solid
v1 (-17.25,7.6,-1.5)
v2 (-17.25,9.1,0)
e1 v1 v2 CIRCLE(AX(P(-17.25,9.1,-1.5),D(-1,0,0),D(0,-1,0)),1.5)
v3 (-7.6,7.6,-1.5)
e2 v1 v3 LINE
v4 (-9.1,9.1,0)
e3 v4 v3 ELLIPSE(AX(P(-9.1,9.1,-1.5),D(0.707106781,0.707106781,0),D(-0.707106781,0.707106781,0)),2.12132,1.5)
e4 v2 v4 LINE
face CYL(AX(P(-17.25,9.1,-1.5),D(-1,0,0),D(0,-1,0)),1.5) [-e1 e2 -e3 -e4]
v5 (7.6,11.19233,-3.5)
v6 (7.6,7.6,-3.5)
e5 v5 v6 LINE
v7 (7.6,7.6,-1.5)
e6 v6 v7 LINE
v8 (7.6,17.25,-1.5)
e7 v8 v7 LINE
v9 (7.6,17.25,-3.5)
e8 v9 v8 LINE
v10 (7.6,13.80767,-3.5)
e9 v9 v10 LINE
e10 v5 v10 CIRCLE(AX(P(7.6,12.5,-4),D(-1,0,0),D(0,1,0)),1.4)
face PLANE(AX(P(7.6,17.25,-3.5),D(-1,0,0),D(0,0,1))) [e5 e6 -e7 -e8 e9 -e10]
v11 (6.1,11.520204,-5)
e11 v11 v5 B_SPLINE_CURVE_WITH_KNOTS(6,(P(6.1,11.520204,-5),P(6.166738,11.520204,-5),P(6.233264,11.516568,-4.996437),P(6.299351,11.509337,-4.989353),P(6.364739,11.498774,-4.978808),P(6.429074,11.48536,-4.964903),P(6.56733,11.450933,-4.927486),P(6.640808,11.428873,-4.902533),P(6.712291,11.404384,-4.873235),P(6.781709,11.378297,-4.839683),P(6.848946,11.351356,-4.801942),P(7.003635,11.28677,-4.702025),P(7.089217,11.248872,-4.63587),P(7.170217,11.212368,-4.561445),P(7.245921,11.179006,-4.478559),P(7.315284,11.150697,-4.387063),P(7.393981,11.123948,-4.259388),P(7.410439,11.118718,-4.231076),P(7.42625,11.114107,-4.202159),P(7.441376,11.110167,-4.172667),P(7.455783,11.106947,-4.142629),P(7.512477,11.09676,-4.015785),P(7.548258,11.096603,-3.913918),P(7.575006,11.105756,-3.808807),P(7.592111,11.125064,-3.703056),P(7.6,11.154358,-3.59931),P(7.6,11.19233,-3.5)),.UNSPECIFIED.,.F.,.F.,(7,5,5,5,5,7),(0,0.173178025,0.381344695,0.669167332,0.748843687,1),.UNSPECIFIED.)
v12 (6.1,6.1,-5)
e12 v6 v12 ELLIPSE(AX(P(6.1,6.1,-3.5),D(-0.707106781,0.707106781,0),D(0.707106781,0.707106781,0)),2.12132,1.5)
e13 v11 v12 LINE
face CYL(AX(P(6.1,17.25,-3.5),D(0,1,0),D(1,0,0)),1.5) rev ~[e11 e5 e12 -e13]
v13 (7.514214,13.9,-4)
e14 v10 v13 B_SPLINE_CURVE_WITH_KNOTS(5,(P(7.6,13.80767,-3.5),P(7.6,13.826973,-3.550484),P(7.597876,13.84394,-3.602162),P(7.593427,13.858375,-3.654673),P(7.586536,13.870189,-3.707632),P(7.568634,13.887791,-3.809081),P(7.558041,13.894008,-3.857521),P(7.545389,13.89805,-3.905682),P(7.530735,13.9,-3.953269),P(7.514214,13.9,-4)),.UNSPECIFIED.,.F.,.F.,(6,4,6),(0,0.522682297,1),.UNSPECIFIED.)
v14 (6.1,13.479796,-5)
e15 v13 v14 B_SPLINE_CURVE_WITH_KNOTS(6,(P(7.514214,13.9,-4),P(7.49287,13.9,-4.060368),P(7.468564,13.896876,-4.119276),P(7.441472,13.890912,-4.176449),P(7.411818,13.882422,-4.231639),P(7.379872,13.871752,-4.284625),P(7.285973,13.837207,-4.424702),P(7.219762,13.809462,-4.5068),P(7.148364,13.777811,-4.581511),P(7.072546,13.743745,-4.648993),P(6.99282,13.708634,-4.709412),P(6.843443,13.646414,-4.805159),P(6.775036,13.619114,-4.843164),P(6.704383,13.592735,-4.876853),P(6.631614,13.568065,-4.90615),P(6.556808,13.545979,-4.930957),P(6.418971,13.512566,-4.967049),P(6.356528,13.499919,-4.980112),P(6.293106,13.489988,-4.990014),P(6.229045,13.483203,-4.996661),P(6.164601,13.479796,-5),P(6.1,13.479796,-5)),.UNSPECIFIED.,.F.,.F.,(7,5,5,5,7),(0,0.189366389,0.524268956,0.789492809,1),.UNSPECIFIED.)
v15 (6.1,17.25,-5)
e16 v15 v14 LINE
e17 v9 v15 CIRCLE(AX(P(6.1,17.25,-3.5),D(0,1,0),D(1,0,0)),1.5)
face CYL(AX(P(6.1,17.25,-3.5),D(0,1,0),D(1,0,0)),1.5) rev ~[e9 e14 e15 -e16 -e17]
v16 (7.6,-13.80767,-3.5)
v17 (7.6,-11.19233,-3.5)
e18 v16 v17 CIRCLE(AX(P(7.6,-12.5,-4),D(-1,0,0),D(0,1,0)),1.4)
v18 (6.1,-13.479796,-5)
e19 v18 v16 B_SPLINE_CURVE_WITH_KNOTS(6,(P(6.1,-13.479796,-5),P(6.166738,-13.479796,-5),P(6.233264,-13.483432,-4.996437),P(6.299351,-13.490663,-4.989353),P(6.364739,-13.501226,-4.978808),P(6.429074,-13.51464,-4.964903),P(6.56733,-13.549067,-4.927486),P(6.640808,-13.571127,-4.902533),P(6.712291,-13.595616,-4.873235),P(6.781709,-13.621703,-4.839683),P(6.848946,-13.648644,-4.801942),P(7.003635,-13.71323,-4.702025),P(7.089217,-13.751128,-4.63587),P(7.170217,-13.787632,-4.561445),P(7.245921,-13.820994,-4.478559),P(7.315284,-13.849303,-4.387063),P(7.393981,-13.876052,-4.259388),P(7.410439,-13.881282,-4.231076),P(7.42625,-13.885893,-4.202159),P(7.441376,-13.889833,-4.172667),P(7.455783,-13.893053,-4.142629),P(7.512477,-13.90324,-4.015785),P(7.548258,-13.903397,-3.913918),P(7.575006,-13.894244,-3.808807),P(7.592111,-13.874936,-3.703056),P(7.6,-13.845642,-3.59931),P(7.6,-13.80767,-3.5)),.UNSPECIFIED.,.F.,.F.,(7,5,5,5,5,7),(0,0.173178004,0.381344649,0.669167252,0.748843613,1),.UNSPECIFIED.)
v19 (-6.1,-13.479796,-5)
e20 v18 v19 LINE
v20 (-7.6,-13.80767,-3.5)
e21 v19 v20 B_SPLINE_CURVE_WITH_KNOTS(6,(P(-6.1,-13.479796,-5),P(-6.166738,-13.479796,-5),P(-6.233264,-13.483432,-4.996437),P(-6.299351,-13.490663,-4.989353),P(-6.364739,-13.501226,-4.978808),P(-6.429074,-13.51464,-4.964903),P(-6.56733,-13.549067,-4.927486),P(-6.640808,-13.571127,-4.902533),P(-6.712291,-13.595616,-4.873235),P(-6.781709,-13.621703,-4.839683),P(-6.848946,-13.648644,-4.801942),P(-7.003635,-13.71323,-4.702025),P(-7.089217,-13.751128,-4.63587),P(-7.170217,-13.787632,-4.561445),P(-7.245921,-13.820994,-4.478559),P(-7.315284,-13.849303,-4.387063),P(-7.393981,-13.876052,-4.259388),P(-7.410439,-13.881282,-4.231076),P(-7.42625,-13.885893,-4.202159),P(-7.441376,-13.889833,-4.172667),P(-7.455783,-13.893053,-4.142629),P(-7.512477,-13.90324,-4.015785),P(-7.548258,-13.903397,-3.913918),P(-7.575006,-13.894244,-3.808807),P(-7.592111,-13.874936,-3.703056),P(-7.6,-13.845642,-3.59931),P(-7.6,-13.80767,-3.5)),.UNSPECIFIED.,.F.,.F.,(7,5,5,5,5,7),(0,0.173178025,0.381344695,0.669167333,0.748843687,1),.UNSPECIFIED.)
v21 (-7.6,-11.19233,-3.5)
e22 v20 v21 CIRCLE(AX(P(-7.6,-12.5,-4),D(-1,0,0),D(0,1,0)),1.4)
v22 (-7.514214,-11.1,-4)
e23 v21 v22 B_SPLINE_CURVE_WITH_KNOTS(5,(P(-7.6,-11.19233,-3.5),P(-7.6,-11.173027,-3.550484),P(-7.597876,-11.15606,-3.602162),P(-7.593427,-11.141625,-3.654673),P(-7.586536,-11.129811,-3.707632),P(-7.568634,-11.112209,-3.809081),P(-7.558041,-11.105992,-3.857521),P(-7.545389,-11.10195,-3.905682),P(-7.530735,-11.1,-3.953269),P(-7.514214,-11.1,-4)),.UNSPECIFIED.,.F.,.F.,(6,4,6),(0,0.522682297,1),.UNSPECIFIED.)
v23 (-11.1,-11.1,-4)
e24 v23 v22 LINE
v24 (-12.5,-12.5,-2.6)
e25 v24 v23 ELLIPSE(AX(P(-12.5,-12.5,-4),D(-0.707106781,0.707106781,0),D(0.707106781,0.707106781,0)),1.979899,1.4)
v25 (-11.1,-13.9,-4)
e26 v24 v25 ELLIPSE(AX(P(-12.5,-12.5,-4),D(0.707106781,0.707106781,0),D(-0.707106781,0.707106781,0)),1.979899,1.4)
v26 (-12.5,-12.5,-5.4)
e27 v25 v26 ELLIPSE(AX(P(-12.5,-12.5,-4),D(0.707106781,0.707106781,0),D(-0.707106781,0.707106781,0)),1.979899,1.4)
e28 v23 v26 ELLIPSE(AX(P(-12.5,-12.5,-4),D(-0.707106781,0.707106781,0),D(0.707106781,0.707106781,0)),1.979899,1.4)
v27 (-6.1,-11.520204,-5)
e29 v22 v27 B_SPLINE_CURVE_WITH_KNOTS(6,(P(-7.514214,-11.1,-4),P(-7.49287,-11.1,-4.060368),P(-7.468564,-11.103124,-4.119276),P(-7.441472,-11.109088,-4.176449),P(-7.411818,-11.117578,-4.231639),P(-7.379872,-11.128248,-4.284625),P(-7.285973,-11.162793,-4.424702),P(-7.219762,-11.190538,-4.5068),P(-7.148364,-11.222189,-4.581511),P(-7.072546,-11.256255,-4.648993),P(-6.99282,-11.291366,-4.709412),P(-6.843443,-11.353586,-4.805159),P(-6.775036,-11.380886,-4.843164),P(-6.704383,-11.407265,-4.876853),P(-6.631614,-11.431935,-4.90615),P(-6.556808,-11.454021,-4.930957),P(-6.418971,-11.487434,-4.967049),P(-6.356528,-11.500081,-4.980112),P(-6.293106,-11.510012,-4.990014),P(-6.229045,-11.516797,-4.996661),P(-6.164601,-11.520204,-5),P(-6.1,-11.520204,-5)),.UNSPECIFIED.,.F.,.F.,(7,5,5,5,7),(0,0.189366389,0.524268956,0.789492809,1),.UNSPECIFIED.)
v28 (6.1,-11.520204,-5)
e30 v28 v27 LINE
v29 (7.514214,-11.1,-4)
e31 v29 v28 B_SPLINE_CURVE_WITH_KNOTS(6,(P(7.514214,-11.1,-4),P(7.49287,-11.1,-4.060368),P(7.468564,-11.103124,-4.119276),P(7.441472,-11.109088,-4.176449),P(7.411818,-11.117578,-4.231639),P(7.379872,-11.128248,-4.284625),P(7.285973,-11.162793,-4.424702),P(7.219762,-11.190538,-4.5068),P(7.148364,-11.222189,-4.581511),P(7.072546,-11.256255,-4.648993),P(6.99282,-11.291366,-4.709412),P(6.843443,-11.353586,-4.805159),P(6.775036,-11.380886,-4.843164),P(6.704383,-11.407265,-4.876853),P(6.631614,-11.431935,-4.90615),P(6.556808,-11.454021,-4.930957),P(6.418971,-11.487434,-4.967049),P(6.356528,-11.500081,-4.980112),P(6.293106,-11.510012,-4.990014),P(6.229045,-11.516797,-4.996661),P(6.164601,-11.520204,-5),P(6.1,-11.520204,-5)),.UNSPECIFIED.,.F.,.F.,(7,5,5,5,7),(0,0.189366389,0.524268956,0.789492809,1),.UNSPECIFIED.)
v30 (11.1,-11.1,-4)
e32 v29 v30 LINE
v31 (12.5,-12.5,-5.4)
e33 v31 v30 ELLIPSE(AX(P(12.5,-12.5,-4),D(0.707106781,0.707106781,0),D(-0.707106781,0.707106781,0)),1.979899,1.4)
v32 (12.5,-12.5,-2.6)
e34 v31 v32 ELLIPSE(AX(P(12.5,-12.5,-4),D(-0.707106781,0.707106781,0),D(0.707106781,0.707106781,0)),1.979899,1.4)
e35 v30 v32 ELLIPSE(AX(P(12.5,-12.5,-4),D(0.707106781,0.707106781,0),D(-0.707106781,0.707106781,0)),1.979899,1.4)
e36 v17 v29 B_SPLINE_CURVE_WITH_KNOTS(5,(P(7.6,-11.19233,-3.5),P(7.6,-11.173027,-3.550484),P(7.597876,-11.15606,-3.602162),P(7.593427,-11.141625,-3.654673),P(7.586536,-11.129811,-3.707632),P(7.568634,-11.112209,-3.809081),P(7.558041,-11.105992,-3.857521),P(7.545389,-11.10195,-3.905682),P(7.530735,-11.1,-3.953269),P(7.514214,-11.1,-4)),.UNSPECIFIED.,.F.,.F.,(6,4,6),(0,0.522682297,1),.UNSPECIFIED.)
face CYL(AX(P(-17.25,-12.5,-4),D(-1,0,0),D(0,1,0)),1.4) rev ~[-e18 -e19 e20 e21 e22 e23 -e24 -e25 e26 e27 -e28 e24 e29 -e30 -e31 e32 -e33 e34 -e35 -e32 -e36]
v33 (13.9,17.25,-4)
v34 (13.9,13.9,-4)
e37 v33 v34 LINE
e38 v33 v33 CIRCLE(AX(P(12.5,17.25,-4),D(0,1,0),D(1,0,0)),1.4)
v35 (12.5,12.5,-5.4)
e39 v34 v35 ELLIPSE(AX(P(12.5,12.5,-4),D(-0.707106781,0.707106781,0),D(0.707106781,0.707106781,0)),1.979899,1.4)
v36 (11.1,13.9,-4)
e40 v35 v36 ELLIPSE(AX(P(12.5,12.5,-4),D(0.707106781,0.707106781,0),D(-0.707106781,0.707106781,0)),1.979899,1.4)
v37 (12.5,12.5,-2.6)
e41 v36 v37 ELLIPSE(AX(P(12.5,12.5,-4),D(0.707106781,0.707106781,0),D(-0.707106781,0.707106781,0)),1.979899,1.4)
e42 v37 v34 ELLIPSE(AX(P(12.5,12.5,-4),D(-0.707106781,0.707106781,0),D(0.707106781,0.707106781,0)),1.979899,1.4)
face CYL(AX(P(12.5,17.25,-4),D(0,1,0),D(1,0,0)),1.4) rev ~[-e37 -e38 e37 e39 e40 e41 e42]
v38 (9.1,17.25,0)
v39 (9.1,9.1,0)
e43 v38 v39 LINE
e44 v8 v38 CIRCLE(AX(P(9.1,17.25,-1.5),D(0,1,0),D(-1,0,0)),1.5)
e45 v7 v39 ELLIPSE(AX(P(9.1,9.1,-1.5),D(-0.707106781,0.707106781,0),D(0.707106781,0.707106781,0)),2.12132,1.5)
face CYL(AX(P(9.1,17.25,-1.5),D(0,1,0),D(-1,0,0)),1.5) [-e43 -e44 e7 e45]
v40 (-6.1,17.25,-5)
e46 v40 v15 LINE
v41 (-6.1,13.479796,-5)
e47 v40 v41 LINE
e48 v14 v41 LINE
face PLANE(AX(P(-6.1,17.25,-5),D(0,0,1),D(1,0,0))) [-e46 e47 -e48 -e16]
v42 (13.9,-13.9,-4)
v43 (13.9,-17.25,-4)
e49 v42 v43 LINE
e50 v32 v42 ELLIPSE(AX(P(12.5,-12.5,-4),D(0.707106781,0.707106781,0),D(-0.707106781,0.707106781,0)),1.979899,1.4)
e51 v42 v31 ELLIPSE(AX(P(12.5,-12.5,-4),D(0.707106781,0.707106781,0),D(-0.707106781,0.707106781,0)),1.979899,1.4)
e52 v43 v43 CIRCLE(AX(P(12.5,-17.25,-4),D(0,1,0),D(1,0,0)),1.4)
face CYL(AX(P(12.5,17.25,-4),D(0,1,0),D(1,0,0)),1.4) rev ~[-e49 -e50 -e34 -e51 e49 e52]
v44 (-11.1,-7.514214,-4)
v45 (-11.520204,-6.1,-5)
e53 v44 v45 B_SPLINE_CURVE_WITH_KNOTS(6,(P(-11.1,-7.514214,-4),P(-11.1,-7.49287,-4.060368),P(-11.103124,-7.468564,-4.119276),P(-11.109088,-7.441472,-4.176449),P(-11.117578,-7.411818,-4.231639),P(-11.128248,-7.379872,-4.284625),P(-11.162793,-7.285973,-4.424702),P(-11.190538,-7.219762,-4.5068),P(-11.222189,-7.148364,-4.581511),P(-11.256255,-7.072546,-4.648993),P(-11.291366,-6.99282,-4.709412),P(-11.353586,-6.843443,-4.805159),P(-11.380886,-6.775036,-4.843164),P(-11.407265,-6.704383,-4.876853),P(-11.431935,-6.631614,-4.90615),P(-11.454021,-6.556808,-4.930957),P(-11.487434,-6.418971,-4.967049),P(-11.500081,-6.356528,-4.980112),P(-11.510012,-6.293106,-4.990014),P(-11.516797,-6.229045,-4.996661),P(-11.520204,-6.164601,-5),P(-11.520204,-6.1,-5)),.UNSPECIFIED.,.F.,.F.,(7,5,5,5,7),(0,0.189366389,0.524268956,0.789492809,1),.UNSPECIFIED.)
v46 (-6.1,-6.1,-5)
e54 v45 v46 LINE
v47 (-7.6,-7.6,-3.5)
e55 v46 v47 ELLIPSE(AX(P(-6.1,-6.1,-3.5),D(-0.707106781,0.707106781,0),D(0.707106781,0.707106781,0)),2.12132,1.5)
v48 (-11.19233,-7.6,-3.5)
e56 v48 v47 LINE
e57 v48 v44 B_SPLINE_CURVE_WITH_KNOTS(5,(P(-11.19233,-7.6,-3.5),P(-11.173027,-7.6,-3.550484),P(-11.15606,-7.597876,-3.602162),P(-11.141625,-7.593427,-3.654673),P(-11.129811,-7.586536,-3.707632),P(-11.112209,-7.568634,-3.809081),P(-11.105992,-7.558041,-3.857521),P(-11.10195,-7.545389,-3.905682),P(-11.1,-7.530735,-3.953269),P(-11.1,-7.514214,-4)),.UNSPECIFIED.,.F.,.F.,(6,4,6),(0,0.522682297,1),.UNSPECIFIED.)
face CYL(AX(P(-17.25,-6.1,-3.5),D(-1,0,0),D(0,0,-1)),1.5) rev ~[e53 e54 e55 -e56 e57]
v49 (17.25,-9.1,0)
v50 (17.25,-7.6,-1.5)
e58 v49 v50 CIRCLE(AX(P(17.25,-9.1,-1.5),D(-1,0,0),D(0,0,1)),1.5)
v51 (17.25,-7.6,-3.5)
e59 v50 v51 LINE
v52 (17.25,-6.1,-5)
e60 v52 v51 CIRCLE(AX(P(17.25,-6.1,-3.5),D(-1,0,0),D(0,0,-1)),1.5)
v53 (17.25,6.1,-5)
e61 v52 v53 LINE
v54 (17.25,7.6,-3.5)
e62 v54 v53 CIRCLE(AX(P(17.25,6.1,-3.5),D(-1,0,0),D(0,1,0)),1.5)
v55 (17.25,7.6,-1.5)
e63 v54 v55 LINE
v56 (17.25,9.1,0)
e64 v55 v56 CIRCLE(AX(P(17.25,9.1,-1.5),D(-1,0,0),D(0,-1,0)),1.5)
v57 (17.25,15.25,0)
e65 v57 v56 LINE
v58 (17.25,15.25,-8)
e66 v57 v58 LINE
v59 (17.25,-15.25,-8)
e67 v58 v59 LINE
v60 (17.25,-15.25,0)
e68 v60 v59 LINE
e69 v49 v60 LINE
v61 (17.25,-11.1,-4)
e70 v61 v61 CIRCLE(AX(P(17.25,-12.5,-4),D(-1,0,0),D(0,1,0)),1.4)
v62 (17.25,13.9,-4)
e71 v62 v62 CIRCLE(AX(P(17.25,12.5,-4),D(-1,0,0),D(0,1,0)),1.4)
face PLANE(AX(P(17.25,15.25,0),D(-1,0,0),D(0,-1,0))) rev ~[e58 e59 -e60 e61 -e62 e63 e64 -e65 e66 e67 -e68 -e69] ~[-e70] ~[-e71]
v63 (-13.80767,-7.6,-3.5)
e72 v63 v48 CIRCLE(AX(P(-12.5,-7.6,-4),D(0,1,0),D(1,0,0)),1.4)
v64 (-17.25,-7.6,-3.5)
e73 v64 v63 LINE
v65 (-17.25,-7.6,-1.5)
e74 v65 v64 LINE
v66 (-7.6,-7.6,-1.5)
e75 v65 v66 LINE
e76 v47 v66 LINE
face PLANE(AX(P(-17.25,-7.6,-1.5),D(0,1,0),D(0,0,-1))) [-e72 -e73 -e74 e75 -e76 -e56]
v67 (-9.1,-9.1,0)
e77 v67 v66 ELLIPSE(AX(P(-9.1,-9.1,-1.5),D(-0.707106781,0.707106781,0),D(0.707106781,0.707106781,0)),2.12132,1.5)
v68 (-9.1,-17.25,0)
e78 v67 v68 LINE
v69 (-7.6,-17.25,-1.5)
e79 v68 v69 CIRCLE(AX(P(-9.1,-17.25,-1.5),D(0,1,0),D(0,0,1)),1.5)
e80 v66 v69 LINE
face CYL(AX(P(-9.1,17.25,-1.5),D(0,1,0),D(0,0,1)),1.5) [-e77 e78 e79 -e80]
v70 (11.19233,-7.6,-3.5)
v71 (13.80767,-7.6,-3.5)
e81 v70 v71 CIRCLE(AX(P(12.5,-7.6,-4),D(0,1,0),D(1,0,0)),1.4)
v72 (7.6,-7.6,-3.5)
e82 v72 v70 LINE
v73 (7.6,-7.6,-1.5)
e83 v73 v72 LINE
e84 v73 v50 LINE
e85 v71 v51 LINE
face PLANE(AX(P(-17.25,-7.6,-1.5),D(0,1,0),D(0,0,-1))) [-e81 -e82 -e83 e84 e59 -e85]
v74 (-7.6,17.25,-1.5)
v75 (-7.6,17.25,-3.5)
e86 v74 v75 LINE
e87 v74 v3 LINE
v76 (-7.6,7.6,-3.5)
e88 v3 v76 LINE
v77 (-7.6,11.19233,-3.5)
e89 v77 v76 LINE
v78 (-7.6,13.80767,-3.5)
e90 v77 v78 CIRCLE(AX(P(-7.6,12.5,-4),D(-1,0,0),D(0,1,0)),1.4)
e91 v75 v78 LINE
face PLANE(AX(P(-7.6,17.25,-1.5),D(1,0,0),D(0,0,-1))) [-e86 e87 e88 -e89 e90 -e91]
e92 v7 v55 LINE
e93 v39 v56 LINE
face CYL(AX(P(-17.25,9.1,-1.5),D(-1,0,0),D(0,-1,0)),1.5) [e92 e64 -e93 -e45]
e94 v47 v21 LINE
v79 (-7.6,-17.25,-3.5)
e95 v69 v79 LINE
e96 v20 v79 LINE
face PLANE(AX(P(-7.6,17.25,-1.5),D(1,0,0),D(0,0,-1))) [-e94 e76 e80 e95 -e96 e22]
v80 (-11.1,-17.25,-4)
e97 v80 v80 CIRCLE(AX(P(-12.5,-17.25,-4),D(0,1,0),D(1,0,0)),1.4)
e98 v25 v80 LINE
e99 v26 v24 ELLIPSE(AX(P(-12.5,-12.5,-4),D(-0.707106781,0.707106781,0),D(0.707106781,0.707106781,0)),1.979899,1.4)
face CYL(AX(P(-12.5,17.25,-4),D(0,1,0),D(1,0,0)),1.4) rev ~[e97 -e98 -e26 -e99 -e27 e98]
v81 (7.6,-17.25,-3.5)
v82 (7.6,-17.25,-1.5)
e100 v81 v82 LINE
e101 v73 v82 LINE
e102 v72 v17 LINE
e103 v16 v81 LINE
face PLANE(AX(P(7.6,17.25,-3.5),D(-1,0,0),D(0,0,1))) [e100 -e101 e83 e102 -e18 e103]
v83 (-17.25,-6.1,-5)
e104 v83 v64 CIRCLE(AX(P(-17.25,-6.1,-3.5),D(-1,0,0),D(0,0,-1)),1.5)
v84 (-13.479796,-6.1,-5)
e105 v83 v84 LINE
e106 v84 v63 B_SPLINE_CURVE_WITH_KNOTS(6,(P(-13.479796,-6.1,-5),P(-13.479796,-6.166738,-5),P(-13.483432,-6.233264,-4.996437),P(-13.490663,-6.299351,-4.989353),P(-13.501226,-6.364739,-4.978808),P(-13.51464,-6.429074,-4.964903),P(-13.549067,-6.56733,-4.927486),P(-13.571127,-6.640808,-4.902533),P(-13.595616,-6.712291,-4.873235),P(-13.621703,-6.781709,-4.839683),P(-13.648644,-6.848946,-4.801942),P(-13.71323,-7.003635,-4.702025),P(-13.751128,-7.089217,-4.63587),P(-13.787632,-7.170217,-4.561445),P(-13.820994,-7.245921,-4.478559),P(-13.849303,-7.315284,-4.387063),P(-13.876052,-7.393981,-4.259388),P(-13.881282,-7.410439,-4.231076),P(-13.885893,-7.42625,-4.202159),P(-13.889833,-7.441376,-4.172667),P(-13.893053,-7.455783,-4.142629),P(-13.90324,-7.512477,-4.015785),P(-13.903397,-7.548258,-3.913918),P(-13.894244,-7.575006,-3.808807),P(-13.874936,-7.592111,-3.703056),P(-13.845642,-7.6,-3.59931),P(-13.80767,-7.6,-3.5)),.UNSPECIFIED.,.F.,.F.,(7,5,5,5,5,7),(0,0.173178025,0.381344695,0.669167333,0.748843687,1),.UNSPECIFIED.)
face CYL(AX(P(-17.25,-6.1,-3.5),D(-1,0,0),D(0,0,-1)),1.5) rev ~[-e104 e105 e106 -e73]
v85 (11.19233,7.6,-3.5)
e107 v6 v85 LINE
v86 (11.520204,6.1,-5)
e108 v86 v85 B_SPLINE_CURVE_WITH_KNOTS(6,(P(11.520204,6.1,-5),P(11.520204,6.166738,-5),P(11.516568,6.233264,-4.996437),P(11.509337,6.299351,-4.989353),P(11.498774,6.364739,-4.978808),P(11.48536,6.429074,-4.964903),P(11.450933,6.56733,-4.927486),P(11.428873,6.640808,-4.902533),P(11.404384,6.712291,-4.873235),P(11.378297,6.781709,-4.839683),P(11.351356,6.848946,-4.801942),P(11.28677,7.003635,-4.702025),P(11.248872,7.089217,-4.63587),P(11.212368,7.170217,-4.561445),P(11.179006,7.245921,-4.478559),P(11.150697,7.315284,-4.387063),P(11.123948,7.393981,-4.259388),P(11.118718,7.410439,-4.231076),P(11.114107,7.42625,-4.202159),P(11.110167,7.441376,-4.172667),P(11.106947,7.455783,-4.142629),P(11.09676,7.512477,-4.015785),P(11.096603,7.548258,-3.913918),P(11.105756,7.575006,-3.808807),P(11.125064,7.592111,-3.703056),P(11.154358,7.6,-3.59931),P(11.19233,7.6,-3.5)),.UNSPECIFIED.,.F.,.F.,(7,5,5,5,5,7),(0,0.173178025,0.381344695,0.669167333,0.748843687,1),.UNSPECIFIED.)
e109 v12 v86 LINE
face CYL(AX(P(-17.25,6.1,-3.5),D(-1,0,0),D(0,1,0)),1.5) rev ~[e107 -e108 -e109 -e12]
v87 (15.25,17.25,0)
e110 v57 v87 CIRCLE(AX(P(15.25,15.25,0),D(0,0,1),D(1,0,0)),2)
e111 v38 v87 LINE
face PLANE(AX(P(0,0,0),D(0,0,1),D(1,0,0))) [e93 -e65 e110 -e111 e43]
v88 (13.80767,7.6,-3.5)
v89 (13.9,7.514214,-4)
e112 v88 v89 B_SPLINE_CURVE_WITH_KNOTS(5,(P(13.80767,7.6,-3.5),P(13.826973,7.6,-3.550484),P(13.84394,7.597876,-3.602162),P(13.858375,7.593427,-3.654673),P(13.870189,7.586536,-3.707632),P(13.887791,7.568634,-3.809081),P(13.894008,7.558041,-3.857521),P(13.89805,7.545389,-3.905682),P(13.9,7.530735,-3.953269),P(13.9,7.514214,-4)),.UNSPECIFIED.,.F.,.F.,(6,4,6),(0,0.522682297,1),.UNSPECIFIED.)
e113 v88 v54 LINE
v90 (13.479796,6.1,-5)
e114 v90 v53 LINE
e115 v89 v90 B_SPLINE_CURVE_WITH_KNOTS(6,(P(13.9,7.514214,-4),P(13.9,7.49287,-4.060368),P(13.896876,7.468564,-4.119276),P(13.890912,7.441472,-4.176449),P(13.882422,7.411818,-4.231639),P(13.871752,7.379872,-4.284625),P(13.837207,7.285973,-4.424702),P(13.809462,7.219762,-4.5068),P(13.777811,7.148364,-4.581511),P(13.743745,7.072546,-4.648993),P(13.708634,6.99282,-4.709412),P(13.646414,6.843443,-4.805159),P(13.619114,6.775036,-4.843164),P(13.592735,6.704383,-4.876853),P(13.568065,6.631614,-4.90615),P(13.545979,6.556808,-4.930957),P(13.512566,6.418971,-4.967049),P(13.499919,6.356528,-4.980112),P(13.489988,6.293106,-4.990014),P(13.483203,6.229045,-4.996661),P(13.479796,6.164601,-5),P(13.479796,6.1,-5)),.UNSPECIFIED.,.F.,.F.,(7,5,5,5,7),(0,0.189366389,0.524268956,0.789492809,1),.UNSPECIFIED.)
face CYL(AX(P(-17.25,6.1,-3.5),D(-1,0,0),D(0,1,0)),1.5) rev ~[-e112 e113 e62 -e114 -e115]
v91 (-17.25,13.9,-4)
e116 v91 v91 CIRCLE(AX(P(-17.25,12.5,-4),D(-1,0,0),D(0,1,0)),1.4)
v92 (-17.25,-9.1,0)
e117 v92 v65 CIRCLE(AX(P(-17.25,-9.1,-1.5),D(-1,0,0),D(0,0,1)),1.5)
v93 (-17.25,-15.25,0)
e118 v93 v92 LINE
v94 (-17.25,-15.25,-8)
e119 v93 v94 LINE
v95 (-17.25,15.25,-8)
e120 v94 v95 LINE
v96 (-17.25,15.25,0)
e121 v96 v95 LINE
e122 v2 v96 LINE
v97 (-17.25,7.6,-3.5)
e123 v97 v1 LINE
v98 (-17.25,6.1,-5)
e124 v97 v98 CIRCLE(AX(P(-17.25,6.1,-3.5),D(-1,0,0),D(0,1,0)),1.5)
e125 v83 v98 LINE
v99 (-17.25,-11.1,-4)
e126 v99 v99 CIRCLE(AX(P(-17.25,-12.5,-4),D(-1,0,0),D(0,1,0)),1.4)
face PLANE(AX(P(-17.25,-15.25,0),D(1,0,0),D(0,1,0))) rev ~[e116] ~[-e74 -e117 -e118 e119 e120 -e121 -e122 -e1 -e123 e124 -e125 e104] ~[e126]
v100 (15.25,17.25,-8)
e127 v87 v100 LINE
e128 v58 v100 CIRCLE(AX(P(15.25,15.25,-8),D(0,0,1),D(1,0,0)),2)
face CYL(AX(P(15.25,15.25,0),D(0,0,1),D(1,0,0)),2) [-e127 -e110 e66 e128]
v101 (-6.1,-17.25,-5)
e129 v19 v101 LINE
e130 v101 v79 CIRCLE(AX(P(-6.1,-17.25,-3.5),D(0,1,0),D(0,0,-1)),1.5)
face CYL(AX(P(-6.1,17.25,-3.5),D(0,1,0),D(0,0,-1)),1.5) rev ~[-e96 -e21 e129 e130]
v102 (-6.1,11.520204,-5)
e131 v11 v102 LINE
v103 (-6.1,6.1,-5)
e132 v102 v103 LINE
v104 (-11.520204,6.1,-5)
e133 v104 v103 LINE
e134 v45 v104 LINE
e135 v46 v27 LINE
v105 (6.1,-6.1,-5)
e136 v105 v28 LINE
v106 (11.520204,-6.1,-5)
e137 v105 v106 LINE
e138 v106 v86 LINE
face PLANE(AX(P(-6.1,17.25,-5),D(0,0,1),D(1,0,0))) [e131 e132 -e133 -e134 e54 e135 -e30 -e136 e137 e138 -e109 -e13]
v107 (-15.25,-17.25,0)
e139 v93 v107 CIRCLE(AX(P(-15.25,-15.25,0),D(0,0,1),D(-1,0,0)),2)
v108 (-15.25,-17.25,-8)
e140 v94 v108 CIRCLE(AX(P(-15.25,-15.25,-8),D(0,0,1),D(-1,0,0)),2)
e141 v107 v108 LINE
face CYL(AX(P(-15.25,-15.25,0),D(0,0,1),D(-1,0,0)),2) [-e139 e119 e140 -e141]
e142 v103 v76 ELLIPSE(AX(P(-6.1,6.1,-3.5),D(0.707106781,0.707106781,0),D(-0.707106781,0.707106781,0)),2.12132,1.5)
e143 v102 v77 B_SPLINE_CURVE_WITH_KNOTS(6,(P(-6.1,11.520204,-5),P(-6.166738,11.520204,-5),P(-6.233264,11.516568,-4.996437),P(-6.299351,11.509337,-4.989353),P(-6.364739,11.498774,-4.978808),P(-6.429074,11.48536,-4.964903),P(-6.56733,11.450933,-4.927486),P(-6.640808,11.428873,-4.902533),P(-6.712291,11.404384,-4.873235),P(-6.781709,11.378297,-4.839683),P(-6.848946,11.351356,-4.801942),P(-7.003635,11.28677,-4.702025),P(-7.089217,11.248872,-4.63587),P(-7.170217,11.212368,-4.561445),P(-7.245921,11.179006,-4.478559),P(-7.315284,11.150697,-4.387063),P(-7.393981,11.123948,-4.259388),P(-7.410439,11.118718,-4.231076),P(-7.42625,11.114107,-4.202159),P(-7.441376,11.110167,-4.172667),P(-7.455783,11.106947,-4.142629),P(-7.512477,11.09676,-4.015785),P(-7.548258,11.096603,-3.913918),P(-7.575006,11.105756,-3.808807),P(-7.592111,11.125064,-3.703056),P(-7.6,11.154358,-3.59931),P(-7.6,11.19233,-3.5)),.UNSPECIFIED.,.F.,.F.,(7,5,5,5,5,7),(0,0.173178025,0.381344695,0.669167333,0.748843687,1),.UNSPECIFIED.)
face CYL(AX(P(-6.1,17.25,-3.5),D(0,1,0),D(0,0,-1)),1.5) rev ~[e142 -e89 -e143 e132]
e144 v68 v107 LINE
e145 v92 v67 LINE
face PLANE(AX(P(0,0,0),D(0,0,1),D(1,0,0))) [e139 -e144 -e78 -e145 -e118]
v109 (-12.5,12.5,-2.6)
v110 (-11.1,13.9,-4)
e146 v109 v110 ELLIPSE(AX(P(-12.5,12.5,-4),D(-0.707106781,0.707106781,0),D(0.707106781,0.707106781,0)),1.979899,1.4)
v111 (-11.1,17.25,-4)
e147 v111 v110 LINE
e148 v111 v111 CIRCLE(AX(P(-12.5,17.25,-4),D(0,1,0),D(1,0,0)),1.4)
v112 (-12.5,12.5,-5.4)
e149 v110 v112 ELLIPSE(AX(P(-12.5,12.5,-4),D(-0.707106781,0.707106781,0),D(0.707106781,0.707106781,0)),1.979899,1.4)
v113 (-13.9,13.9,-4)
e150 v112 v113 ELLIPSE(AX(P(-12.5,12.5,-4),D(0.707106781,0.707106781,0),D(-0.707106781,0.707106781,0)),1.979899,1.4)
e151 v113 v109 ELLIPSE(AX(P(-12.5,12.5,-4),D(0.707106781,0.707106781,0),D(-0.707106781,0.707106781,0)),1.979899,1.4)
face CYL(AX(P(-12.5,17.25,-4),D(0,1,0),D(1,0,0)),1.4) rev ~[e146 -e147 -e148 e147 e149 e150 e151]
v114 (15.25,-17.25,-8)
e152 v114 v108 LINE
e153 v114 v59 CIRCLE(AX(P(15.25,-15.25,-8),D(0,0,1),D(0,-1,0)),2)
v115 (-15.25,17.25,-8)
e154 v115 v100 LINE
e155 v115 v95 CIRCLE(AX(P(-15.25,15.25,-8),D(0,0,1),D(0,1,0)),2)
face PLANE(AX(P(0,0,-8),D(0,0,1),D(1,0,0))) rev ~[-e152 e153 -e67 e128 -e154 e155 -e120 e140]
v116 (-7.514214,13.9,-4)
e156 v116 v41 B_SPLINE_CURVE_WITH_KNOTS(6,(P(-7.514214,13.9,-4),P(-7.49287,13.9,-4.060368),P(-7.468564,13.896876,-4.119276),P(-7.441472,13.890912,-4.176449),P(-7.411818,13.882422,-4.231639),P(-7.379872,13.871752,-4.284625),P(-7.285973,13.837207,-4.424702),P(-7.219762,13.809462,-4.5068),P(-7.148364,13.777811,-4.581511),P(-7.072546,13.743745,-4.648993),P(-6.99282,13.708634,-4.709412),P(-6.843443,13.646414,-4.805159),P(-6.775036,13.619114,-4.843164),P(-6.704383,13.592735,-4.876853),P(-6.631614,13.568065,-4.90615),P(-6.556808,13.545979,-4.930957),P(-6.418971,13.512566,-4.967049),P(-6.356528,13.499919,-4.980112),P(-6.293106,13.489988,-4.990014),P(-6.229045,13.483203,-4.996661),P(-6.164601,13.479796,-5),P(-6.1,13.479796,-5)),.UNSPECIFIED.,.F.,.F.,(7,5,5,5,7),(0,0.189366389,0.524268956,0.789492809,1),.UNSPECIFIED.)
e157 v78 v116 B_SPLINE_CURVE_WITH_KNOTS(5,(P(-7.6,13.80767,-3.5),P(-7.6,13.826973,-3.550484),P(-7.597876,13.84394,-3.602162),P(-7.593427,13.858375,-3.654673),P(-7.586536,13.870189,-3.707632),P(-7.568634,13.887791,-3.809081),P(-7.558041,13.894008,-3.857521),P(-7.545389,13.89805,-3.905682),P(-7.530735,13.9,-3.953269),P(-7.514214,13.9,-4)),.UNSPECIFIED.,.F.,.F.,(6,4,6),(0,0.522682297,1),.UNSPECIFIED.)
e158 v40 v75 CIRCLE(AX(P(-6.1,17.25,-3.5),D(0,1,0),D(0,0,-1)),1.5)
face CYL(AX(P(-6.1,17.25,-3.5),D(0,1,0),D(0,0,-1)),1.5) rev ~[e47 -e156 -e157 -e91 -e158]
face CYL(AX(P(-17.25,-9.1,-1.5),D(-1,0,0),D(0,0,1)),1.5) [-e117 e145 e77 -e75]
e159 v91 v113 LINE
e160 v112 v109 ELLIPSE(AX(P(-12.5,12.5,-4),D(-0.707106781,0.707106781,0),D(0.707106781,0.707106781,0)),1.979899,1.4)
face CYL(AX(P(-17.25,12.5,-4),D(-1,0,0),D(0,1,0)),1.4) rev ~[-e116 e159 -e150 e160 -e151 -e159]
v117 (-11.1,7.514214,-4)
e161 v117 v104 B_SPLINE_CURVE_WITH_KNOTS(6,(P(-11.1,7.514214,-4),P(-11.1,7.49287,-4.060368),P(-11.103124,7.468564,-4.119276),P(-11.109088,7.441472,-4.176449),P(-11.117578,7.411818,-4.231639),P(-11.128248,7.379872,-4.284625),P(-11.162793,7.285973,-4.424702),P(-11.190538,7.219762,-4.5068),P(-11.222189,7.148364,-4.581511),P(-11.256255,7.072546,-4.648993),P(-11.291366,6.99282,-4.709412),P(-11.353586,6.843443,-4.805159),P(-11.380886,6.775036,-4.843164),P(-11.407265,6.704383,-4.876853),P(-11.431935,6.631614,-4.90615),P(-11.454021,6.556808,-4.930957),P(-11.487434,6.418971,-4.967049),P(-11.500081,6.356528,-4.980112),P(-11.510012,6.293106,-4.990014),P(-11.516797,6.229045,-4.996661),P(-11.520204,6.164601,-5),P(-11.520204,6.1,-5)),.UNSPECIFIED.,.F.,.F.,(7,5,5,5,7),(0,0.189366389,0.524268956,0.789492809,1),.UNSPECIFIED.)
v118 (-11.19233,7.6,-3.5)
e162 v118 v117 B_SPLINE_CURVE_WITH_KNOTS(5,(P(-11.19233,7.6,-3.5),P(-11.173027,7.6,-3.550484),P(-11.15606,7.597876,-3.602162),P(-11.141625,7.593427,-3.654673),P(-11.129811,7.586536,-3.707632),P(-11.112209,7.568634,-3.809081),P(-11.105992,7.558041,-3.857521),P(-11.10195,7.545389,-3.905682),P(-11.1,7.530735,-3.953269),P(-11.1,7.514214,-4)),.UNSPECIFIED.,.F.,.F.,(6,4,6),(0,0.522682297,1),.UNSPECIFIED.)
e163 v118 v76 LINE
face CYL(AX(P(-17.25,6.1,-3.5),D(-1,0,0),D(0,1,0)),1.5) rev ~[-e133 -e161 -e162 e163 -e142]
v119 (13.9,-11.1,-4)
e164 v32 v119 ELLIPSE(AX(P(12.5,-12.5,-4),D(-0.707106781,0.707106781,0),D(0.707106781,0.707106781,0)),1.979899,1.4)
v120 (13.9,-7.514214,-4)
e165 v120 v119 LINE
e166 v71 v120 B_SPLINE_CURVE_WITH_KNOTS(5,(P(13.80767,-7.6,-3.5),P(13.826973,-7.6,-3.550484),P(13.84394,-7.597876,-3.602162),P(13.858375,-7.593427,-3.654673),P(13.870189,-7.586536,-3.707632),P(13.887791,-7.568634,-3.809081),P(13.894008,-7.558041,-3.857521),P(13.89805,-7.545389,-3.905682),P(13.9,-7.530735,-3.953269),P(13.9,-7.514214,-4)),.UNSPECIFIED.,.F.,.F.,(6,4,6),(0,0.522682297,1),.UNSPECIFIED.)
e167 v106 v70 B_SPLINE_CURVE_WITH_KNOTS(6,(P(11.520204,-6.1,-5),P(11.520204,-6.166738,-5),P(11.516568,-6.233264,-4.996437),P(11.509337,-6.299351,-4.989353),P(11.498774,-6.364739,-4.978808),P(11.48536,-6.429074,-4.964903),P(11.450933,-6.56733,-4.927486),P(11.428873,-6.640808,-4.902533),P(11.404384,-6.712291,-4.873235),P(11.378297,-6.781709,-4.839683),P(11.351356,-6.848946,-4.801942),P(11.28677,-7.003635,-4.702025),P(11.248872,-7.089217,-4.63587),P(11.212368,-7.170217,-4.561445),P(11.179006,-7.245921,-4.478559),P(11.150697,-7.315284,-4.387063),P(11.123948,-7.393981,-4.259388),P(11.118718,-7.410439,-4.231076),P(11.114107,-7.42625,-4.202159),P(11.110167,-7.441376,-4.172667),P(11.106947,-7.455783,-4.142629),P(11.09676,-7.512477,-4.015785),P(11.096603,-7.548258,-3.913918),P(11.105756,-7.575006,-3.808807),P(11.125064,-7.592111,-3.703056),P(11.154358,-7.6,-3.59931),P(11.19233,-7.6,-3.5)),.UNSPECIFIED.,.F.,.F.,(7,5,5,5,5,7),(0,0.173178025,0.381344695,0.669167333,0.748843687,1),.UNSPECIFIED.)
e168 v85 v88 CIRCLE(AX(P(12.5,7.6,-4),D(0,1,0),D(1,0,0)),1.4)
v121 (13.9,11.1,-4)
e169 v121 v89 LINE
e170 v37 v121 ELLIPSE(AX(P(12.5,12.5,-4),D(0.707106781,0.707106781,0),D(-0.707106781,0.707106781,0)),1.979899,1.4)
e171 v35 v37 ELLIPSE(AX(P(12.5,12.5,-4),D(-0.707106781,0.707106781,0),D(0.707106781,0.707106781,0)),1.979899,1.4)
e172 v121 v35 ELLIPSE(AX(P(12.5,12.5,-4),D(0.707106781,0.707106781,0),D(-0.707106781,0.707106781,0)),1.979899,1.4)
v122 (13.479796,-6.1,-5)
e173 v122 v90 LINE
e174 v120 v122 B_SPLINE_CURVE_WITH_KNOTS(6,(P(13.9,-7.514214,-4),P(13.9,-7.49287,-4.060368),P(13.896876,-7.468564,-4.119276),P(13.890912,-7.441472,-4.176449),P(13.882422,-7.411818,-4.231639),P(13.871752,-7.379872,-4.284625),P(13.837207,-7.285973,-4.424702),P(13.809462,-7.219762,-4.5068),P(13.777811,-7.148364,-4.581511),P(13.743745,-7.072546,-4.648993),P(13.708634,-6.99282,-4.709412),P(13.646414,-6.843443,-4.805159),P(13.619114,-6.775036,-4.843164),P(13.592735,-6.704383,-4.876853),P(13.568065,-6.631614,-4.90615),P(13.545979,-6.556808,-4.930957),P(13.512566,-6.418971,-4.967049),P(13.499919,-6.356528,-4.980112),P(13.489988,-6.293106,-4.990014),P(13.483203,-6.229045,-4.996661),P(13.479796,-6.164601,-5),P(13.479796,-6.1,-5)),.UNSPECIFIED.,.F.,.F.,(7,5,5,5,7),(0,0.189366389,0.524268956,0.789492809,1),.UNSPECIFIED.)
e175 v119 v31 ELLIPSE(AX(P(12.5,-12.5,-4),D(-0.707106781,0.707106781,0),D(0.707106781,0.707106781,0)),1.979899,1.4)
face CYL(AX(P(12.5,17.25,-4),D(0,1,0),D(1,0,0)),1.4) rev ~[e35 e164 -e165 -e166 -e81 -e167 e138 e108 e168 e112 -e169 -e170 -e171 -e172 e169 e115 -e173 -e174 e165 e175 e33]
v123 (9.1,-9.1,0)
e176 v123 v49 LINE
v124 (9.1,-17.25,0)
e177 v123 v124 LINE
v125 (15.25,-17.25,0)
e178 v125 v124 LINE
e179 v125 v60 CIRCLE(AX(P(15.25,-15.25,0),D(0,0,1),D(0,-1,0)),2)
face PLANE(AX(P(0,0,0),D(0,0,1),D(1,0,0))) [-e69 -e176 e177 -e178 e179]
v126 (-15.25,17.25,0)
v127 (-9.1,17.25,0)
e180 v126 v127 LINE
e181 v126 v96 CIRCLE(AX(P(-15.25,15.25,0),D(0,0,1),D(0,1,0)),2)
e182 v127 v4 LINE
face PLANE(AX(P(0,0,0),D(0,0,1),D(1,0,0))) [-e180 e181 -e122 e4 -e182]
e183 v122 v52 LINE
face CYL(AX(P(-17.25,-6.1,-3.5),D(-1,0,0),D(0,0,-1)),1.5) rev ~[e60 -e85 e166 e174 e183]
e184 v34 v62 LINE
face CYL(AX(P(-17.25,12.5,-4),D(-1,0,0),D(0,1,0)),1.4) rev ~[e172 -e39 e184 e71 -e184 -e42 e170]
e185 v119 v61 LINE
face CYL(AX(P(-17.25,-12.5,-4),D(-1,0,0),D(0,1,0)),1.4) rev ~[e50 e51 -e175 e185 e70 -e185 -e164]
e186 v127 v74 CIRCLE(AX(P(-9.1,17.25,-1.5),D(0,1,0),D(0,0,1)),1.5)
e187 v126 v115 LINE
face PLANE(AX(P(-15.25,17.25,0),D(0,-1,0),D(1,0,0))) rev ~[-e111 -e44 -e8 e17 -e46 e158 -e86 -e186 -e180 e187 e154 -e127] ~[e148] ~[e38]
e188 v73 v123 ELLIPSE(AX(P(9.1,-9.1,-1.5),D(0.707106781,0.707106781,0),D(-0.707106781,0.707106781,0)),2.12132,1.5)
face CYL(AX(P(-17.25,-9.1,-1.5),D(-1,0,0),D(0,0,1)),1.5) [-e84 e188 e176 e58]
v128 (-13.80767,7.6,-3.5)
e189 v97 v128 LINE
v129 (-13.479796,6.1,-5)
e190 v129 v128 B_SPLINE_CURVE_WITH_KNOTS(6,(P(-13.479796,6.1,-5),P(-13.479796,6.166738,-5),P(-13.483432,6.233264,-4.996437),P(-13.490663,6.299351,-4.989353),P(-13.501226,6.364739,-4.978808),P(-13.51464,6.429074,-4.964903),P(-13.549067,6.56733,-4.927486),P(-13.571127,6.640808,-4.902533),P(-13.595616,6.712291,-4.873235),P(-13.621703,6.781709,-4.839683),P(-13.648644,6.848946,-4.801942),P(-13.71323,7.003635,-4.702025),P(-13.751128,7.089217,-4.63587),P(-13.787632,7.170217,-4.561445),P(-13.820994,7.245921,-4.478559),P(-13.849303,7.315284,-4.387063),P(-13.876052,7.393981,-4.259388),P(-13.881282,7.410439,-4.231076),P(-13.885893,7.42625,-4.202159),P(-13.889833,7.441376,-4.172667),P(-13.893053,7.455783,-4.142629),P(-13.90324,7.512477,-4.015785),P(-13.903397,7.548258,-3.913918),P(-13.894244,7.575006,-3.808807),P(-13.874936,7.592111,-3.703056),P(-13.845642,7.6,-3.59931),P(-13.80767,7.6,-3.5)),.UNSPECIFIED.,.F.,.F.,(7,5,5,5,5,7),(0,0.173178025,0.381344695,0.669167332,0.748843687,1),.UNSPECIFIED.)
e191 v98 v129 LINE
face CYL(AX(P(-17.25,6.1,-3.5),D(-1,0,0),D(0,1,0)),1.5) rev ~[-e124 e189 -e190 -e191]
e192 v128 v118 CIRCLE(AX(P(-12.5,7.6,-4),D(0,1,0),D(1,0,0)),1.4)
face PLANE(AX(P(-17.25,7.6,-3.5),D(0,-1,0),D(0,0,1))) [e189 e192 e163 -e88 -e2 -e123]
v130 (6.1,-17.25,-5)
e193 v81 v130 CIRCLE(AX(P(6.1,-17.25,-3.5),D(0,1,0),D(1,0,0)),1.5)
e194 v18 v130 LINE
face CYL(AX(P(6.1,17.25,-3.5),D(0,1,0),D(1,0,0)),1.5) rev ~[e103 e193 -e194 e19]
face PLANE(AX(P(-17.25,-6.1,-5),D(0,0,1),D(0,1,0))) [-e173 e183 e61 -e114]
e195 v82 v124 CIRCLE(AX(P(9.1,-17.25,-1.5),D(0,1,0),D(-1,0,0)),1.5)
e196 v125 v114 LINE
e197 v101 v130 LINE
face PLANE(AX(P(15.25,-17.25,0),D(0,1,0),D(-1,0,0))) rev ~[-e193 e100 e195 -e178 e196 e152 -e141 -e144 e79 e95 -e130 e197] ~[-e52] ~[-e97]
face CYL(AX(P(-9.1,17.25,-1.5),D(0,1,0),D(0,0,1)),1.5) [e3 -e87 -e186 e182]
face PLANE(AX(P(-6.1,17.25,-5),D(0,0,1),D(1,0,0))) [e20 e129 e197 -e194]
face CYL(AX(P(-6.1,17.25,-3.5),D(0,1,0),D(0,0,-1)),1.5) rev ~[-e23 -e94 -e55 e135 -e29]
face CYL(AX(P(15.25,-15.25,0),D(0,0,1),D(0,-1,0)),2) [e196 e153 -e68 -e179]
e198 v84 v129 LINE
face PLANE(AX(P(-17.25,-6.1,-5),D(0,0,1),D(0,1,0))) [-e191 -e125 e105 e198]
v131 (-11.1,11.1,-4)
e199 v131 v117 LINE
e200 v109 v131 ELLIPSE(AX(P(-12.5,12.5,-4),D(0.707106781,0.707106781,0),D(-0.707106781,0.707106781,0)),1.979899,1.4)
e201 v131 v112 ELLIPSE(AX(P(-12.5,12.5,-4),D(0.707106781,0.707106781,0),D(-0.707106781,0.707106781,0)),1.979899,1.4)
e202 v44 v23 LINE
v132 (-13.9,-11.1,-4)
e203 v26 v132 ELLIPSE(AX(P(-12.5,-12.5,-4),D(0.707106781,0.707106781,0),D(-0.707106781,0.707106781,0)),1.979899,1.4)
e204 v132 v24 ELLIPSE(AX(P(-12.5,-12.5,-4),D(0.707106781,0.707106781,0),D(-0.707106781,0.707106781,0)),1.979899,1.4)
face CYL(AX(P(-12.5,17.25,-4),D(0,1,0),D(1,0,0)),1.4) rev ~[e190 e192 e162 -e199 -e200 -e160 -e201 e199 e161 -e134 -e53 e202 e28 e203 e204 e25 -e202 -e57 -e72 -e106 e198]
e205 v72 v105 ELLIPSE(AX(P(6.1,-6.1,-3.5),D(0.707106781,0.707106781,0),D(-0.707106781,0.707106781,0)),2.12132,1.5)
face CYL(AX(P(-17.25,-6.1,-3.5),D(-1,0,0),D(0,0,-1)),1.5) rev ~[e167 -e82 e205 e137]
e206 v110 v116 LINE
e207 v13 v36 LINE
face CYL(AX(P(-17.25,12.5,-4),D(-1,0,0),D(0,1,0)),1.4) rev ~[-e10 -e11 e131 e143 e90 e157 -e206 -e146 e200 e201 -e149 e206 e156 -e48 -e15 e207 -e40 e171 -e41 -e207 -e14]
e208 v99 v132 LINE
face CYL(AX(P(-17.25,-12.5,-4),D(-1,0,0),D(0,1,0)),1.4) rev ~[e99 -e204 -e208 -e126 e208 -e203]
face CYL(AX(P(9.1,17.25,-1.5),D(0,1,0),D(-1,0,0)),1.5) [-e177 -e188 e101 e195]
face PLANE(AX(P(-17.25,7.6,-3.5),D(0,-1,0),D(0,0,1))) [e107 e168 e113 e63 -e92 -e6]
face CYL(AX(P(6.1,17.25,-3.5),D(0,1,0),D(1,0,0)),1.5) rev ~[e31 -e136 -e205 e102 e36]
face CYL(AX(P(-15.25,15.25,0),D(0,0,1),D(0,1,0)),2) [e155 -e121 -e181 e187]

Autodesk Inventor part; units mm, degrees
ref_plane "YZ Plane" through (0, 0, 0) normal (1, 0, 0) x (0, 1, 0)
ref_plane "XZ Plane" through (0, 0, 0) normal (0, 1, 0) x (-1, 0, 0)
ref_plane "Work Plane1" through (0, 0, 0) normal (0, 0, 1) x (1, 0, 0)
sketch "Sketch1" plane through (0, 0, 0) normal (0, 0, 1) x (1, 0, 0)
  line L0 (9.1, -25) -> (9.1, -17.5) projected
  line L1 (9.1, -25) -> (25, -25) projected
  line L2 (25, -25) -> (25, -9.1) projected
  line L3 (17.5, -9.1) -> (25, -9.1) projected
  line L4 (17.5, -9.1) -> (17.5, -15.5) projected
  arc A0 (15.5, -17.5) -> (17.5, -15.5) centre (15.5, -15.5) ccw projected
  line L5 (15.5, -17.5) -> (9.1, -17.5) projected
  circle A1 centre (20, -20) radius 2.2989 projected
  arc A2 (17.5, 15.5) -> (15.5, 17.5) centre (15.5, 15.5) ccw projected
  line L6 (-15.25, 17.25) -> (15.25, 17.25)
  line L7 (17.25, 15.25) -> (17.25, -15.25)
  line L8 (15.25, -17.25) -> (-15.25, -17.25)
  line L9 (-17.25, -15.25) -> (-17.25, 15.25)
  line L10 (-17.25, 17.25) -> (17.25, -17.25) construction
  line L11 (17.25, 17.25) -> (-17.25, -17.25) construction
  arc A3 (15.25, -17.25) -> (17.25, -15.25) centre (15.25, -15.25) ccw
  arc A4 (-17.25, -15.25) -> (-15.25, -17.25) centre (-15.25, -15.25) ccw
  arc A5 (-15.25, 17.25) -> (-17.25, 15.25) centre (-15.25, 15.25) ccw
  arc A6 (17.25, 15.25) -> (15.25, 17.25) centre (15.25, 15.25) ccw
  point P0 (0, 0)
  dimension "d0" = 34.5
  dimension "d1" = 34.5
  dimension "d2" = 2
ref_plane "Work Plane2" through (-25, -25, -8) normal (0, 0, -1) x (0, 1, 0)
extrude "Extrusion1" add sketch "Sketch1" against normal up to surface (8 mm away) contours L6 A6 L7 A3 L8 A4 L9 A5
sketch "Sketch2" plane through (-15.25, 17.25, 0) normal (0, 1, 0) x (1, 0, 0)
  arc A0 (22.85, 1.5) -> (24.35, 0) centre (24.35, 1.5) ccw projected
  line L0 (40.25, 0) -> (24.35, 0) projected
  line L1 (40.25, 0) -> (40.25, 8) projected
  line L2 (18.4, 8) -> (40.25, 8) projected
  line L3 (18.4, 8) -> (18.4, 5) projected
  line L4 (18.4, 5) -> (21.35, 5) projected
  arc A1 (22.85, 3.5) -> (21.35, 5) centre (21.35, 3.5) ccw projected
  line L5 (22.85, 3.5) -> (22.85, 1.5) projected
  circle A2 centre (27.75, 4) radius 1.75 projected
  circle A3 centre (2.75, 4) radius 1.75 projected
  arc A4 (6.15, 0) -> (7.65, 1.5) centre (6.15, 1.5) ccw projected
  line L6 (7.65, 1.5) -> (7.65, 3.5) projected
  arc A5 (9.15, 5) -> (7.65, 3.5) centre (9.15, 3.5) ccw projected
  line L7 (9.15, 5) -> (12.1, 5) projected
  line L8 (12.1, 5) -> (12.1, 8) projected
  line L9 (-9.75, 8) -> (12.1, 8) projected
  line L10 (-9.75, 0) -> (-9.75, 8) projected
  line L11 (6.15, 0) -> (-9.75, 0) projected
  line L12 (18.4, 5) -> (12.1, 5)
  line L13 (12.1, 5) -> (12.1, 8)
  line L14 (12.1, 8) -> (18.4, 8)
  line L15 (18.4, 8) -> (18.4, 5)
  line L16 (24.35, 0) -> (6.15, 0)
  circle A6 centre (27.75, 4) radius 1.4
  circle A7 centre (2.75, 4) radius 1.4
  point P0 (15.25, 0)
  dimension "d7" = 2.8
  dimension "d8" = 2.8
extrude "Extrusion2" cut sketch "Sketch2" against normal through all contours A0 L16 A4 L6 A5 L7 L12 L4 A1 L5 | A6 | A7
sketch "Sketch3" plane through (-6.1, 17.25, -5) normal (0, 0, 1) x (1, 0, 0)
  circle A0 centre (6.1, -17.25) radius 4.7436
pattern_circular "Circular Pattern1" count 2 over 90 about axis through (0, 0, -5) along (0, 0, 1) of "Extrusion2"
properties part number "10_Base_v0_plate"
